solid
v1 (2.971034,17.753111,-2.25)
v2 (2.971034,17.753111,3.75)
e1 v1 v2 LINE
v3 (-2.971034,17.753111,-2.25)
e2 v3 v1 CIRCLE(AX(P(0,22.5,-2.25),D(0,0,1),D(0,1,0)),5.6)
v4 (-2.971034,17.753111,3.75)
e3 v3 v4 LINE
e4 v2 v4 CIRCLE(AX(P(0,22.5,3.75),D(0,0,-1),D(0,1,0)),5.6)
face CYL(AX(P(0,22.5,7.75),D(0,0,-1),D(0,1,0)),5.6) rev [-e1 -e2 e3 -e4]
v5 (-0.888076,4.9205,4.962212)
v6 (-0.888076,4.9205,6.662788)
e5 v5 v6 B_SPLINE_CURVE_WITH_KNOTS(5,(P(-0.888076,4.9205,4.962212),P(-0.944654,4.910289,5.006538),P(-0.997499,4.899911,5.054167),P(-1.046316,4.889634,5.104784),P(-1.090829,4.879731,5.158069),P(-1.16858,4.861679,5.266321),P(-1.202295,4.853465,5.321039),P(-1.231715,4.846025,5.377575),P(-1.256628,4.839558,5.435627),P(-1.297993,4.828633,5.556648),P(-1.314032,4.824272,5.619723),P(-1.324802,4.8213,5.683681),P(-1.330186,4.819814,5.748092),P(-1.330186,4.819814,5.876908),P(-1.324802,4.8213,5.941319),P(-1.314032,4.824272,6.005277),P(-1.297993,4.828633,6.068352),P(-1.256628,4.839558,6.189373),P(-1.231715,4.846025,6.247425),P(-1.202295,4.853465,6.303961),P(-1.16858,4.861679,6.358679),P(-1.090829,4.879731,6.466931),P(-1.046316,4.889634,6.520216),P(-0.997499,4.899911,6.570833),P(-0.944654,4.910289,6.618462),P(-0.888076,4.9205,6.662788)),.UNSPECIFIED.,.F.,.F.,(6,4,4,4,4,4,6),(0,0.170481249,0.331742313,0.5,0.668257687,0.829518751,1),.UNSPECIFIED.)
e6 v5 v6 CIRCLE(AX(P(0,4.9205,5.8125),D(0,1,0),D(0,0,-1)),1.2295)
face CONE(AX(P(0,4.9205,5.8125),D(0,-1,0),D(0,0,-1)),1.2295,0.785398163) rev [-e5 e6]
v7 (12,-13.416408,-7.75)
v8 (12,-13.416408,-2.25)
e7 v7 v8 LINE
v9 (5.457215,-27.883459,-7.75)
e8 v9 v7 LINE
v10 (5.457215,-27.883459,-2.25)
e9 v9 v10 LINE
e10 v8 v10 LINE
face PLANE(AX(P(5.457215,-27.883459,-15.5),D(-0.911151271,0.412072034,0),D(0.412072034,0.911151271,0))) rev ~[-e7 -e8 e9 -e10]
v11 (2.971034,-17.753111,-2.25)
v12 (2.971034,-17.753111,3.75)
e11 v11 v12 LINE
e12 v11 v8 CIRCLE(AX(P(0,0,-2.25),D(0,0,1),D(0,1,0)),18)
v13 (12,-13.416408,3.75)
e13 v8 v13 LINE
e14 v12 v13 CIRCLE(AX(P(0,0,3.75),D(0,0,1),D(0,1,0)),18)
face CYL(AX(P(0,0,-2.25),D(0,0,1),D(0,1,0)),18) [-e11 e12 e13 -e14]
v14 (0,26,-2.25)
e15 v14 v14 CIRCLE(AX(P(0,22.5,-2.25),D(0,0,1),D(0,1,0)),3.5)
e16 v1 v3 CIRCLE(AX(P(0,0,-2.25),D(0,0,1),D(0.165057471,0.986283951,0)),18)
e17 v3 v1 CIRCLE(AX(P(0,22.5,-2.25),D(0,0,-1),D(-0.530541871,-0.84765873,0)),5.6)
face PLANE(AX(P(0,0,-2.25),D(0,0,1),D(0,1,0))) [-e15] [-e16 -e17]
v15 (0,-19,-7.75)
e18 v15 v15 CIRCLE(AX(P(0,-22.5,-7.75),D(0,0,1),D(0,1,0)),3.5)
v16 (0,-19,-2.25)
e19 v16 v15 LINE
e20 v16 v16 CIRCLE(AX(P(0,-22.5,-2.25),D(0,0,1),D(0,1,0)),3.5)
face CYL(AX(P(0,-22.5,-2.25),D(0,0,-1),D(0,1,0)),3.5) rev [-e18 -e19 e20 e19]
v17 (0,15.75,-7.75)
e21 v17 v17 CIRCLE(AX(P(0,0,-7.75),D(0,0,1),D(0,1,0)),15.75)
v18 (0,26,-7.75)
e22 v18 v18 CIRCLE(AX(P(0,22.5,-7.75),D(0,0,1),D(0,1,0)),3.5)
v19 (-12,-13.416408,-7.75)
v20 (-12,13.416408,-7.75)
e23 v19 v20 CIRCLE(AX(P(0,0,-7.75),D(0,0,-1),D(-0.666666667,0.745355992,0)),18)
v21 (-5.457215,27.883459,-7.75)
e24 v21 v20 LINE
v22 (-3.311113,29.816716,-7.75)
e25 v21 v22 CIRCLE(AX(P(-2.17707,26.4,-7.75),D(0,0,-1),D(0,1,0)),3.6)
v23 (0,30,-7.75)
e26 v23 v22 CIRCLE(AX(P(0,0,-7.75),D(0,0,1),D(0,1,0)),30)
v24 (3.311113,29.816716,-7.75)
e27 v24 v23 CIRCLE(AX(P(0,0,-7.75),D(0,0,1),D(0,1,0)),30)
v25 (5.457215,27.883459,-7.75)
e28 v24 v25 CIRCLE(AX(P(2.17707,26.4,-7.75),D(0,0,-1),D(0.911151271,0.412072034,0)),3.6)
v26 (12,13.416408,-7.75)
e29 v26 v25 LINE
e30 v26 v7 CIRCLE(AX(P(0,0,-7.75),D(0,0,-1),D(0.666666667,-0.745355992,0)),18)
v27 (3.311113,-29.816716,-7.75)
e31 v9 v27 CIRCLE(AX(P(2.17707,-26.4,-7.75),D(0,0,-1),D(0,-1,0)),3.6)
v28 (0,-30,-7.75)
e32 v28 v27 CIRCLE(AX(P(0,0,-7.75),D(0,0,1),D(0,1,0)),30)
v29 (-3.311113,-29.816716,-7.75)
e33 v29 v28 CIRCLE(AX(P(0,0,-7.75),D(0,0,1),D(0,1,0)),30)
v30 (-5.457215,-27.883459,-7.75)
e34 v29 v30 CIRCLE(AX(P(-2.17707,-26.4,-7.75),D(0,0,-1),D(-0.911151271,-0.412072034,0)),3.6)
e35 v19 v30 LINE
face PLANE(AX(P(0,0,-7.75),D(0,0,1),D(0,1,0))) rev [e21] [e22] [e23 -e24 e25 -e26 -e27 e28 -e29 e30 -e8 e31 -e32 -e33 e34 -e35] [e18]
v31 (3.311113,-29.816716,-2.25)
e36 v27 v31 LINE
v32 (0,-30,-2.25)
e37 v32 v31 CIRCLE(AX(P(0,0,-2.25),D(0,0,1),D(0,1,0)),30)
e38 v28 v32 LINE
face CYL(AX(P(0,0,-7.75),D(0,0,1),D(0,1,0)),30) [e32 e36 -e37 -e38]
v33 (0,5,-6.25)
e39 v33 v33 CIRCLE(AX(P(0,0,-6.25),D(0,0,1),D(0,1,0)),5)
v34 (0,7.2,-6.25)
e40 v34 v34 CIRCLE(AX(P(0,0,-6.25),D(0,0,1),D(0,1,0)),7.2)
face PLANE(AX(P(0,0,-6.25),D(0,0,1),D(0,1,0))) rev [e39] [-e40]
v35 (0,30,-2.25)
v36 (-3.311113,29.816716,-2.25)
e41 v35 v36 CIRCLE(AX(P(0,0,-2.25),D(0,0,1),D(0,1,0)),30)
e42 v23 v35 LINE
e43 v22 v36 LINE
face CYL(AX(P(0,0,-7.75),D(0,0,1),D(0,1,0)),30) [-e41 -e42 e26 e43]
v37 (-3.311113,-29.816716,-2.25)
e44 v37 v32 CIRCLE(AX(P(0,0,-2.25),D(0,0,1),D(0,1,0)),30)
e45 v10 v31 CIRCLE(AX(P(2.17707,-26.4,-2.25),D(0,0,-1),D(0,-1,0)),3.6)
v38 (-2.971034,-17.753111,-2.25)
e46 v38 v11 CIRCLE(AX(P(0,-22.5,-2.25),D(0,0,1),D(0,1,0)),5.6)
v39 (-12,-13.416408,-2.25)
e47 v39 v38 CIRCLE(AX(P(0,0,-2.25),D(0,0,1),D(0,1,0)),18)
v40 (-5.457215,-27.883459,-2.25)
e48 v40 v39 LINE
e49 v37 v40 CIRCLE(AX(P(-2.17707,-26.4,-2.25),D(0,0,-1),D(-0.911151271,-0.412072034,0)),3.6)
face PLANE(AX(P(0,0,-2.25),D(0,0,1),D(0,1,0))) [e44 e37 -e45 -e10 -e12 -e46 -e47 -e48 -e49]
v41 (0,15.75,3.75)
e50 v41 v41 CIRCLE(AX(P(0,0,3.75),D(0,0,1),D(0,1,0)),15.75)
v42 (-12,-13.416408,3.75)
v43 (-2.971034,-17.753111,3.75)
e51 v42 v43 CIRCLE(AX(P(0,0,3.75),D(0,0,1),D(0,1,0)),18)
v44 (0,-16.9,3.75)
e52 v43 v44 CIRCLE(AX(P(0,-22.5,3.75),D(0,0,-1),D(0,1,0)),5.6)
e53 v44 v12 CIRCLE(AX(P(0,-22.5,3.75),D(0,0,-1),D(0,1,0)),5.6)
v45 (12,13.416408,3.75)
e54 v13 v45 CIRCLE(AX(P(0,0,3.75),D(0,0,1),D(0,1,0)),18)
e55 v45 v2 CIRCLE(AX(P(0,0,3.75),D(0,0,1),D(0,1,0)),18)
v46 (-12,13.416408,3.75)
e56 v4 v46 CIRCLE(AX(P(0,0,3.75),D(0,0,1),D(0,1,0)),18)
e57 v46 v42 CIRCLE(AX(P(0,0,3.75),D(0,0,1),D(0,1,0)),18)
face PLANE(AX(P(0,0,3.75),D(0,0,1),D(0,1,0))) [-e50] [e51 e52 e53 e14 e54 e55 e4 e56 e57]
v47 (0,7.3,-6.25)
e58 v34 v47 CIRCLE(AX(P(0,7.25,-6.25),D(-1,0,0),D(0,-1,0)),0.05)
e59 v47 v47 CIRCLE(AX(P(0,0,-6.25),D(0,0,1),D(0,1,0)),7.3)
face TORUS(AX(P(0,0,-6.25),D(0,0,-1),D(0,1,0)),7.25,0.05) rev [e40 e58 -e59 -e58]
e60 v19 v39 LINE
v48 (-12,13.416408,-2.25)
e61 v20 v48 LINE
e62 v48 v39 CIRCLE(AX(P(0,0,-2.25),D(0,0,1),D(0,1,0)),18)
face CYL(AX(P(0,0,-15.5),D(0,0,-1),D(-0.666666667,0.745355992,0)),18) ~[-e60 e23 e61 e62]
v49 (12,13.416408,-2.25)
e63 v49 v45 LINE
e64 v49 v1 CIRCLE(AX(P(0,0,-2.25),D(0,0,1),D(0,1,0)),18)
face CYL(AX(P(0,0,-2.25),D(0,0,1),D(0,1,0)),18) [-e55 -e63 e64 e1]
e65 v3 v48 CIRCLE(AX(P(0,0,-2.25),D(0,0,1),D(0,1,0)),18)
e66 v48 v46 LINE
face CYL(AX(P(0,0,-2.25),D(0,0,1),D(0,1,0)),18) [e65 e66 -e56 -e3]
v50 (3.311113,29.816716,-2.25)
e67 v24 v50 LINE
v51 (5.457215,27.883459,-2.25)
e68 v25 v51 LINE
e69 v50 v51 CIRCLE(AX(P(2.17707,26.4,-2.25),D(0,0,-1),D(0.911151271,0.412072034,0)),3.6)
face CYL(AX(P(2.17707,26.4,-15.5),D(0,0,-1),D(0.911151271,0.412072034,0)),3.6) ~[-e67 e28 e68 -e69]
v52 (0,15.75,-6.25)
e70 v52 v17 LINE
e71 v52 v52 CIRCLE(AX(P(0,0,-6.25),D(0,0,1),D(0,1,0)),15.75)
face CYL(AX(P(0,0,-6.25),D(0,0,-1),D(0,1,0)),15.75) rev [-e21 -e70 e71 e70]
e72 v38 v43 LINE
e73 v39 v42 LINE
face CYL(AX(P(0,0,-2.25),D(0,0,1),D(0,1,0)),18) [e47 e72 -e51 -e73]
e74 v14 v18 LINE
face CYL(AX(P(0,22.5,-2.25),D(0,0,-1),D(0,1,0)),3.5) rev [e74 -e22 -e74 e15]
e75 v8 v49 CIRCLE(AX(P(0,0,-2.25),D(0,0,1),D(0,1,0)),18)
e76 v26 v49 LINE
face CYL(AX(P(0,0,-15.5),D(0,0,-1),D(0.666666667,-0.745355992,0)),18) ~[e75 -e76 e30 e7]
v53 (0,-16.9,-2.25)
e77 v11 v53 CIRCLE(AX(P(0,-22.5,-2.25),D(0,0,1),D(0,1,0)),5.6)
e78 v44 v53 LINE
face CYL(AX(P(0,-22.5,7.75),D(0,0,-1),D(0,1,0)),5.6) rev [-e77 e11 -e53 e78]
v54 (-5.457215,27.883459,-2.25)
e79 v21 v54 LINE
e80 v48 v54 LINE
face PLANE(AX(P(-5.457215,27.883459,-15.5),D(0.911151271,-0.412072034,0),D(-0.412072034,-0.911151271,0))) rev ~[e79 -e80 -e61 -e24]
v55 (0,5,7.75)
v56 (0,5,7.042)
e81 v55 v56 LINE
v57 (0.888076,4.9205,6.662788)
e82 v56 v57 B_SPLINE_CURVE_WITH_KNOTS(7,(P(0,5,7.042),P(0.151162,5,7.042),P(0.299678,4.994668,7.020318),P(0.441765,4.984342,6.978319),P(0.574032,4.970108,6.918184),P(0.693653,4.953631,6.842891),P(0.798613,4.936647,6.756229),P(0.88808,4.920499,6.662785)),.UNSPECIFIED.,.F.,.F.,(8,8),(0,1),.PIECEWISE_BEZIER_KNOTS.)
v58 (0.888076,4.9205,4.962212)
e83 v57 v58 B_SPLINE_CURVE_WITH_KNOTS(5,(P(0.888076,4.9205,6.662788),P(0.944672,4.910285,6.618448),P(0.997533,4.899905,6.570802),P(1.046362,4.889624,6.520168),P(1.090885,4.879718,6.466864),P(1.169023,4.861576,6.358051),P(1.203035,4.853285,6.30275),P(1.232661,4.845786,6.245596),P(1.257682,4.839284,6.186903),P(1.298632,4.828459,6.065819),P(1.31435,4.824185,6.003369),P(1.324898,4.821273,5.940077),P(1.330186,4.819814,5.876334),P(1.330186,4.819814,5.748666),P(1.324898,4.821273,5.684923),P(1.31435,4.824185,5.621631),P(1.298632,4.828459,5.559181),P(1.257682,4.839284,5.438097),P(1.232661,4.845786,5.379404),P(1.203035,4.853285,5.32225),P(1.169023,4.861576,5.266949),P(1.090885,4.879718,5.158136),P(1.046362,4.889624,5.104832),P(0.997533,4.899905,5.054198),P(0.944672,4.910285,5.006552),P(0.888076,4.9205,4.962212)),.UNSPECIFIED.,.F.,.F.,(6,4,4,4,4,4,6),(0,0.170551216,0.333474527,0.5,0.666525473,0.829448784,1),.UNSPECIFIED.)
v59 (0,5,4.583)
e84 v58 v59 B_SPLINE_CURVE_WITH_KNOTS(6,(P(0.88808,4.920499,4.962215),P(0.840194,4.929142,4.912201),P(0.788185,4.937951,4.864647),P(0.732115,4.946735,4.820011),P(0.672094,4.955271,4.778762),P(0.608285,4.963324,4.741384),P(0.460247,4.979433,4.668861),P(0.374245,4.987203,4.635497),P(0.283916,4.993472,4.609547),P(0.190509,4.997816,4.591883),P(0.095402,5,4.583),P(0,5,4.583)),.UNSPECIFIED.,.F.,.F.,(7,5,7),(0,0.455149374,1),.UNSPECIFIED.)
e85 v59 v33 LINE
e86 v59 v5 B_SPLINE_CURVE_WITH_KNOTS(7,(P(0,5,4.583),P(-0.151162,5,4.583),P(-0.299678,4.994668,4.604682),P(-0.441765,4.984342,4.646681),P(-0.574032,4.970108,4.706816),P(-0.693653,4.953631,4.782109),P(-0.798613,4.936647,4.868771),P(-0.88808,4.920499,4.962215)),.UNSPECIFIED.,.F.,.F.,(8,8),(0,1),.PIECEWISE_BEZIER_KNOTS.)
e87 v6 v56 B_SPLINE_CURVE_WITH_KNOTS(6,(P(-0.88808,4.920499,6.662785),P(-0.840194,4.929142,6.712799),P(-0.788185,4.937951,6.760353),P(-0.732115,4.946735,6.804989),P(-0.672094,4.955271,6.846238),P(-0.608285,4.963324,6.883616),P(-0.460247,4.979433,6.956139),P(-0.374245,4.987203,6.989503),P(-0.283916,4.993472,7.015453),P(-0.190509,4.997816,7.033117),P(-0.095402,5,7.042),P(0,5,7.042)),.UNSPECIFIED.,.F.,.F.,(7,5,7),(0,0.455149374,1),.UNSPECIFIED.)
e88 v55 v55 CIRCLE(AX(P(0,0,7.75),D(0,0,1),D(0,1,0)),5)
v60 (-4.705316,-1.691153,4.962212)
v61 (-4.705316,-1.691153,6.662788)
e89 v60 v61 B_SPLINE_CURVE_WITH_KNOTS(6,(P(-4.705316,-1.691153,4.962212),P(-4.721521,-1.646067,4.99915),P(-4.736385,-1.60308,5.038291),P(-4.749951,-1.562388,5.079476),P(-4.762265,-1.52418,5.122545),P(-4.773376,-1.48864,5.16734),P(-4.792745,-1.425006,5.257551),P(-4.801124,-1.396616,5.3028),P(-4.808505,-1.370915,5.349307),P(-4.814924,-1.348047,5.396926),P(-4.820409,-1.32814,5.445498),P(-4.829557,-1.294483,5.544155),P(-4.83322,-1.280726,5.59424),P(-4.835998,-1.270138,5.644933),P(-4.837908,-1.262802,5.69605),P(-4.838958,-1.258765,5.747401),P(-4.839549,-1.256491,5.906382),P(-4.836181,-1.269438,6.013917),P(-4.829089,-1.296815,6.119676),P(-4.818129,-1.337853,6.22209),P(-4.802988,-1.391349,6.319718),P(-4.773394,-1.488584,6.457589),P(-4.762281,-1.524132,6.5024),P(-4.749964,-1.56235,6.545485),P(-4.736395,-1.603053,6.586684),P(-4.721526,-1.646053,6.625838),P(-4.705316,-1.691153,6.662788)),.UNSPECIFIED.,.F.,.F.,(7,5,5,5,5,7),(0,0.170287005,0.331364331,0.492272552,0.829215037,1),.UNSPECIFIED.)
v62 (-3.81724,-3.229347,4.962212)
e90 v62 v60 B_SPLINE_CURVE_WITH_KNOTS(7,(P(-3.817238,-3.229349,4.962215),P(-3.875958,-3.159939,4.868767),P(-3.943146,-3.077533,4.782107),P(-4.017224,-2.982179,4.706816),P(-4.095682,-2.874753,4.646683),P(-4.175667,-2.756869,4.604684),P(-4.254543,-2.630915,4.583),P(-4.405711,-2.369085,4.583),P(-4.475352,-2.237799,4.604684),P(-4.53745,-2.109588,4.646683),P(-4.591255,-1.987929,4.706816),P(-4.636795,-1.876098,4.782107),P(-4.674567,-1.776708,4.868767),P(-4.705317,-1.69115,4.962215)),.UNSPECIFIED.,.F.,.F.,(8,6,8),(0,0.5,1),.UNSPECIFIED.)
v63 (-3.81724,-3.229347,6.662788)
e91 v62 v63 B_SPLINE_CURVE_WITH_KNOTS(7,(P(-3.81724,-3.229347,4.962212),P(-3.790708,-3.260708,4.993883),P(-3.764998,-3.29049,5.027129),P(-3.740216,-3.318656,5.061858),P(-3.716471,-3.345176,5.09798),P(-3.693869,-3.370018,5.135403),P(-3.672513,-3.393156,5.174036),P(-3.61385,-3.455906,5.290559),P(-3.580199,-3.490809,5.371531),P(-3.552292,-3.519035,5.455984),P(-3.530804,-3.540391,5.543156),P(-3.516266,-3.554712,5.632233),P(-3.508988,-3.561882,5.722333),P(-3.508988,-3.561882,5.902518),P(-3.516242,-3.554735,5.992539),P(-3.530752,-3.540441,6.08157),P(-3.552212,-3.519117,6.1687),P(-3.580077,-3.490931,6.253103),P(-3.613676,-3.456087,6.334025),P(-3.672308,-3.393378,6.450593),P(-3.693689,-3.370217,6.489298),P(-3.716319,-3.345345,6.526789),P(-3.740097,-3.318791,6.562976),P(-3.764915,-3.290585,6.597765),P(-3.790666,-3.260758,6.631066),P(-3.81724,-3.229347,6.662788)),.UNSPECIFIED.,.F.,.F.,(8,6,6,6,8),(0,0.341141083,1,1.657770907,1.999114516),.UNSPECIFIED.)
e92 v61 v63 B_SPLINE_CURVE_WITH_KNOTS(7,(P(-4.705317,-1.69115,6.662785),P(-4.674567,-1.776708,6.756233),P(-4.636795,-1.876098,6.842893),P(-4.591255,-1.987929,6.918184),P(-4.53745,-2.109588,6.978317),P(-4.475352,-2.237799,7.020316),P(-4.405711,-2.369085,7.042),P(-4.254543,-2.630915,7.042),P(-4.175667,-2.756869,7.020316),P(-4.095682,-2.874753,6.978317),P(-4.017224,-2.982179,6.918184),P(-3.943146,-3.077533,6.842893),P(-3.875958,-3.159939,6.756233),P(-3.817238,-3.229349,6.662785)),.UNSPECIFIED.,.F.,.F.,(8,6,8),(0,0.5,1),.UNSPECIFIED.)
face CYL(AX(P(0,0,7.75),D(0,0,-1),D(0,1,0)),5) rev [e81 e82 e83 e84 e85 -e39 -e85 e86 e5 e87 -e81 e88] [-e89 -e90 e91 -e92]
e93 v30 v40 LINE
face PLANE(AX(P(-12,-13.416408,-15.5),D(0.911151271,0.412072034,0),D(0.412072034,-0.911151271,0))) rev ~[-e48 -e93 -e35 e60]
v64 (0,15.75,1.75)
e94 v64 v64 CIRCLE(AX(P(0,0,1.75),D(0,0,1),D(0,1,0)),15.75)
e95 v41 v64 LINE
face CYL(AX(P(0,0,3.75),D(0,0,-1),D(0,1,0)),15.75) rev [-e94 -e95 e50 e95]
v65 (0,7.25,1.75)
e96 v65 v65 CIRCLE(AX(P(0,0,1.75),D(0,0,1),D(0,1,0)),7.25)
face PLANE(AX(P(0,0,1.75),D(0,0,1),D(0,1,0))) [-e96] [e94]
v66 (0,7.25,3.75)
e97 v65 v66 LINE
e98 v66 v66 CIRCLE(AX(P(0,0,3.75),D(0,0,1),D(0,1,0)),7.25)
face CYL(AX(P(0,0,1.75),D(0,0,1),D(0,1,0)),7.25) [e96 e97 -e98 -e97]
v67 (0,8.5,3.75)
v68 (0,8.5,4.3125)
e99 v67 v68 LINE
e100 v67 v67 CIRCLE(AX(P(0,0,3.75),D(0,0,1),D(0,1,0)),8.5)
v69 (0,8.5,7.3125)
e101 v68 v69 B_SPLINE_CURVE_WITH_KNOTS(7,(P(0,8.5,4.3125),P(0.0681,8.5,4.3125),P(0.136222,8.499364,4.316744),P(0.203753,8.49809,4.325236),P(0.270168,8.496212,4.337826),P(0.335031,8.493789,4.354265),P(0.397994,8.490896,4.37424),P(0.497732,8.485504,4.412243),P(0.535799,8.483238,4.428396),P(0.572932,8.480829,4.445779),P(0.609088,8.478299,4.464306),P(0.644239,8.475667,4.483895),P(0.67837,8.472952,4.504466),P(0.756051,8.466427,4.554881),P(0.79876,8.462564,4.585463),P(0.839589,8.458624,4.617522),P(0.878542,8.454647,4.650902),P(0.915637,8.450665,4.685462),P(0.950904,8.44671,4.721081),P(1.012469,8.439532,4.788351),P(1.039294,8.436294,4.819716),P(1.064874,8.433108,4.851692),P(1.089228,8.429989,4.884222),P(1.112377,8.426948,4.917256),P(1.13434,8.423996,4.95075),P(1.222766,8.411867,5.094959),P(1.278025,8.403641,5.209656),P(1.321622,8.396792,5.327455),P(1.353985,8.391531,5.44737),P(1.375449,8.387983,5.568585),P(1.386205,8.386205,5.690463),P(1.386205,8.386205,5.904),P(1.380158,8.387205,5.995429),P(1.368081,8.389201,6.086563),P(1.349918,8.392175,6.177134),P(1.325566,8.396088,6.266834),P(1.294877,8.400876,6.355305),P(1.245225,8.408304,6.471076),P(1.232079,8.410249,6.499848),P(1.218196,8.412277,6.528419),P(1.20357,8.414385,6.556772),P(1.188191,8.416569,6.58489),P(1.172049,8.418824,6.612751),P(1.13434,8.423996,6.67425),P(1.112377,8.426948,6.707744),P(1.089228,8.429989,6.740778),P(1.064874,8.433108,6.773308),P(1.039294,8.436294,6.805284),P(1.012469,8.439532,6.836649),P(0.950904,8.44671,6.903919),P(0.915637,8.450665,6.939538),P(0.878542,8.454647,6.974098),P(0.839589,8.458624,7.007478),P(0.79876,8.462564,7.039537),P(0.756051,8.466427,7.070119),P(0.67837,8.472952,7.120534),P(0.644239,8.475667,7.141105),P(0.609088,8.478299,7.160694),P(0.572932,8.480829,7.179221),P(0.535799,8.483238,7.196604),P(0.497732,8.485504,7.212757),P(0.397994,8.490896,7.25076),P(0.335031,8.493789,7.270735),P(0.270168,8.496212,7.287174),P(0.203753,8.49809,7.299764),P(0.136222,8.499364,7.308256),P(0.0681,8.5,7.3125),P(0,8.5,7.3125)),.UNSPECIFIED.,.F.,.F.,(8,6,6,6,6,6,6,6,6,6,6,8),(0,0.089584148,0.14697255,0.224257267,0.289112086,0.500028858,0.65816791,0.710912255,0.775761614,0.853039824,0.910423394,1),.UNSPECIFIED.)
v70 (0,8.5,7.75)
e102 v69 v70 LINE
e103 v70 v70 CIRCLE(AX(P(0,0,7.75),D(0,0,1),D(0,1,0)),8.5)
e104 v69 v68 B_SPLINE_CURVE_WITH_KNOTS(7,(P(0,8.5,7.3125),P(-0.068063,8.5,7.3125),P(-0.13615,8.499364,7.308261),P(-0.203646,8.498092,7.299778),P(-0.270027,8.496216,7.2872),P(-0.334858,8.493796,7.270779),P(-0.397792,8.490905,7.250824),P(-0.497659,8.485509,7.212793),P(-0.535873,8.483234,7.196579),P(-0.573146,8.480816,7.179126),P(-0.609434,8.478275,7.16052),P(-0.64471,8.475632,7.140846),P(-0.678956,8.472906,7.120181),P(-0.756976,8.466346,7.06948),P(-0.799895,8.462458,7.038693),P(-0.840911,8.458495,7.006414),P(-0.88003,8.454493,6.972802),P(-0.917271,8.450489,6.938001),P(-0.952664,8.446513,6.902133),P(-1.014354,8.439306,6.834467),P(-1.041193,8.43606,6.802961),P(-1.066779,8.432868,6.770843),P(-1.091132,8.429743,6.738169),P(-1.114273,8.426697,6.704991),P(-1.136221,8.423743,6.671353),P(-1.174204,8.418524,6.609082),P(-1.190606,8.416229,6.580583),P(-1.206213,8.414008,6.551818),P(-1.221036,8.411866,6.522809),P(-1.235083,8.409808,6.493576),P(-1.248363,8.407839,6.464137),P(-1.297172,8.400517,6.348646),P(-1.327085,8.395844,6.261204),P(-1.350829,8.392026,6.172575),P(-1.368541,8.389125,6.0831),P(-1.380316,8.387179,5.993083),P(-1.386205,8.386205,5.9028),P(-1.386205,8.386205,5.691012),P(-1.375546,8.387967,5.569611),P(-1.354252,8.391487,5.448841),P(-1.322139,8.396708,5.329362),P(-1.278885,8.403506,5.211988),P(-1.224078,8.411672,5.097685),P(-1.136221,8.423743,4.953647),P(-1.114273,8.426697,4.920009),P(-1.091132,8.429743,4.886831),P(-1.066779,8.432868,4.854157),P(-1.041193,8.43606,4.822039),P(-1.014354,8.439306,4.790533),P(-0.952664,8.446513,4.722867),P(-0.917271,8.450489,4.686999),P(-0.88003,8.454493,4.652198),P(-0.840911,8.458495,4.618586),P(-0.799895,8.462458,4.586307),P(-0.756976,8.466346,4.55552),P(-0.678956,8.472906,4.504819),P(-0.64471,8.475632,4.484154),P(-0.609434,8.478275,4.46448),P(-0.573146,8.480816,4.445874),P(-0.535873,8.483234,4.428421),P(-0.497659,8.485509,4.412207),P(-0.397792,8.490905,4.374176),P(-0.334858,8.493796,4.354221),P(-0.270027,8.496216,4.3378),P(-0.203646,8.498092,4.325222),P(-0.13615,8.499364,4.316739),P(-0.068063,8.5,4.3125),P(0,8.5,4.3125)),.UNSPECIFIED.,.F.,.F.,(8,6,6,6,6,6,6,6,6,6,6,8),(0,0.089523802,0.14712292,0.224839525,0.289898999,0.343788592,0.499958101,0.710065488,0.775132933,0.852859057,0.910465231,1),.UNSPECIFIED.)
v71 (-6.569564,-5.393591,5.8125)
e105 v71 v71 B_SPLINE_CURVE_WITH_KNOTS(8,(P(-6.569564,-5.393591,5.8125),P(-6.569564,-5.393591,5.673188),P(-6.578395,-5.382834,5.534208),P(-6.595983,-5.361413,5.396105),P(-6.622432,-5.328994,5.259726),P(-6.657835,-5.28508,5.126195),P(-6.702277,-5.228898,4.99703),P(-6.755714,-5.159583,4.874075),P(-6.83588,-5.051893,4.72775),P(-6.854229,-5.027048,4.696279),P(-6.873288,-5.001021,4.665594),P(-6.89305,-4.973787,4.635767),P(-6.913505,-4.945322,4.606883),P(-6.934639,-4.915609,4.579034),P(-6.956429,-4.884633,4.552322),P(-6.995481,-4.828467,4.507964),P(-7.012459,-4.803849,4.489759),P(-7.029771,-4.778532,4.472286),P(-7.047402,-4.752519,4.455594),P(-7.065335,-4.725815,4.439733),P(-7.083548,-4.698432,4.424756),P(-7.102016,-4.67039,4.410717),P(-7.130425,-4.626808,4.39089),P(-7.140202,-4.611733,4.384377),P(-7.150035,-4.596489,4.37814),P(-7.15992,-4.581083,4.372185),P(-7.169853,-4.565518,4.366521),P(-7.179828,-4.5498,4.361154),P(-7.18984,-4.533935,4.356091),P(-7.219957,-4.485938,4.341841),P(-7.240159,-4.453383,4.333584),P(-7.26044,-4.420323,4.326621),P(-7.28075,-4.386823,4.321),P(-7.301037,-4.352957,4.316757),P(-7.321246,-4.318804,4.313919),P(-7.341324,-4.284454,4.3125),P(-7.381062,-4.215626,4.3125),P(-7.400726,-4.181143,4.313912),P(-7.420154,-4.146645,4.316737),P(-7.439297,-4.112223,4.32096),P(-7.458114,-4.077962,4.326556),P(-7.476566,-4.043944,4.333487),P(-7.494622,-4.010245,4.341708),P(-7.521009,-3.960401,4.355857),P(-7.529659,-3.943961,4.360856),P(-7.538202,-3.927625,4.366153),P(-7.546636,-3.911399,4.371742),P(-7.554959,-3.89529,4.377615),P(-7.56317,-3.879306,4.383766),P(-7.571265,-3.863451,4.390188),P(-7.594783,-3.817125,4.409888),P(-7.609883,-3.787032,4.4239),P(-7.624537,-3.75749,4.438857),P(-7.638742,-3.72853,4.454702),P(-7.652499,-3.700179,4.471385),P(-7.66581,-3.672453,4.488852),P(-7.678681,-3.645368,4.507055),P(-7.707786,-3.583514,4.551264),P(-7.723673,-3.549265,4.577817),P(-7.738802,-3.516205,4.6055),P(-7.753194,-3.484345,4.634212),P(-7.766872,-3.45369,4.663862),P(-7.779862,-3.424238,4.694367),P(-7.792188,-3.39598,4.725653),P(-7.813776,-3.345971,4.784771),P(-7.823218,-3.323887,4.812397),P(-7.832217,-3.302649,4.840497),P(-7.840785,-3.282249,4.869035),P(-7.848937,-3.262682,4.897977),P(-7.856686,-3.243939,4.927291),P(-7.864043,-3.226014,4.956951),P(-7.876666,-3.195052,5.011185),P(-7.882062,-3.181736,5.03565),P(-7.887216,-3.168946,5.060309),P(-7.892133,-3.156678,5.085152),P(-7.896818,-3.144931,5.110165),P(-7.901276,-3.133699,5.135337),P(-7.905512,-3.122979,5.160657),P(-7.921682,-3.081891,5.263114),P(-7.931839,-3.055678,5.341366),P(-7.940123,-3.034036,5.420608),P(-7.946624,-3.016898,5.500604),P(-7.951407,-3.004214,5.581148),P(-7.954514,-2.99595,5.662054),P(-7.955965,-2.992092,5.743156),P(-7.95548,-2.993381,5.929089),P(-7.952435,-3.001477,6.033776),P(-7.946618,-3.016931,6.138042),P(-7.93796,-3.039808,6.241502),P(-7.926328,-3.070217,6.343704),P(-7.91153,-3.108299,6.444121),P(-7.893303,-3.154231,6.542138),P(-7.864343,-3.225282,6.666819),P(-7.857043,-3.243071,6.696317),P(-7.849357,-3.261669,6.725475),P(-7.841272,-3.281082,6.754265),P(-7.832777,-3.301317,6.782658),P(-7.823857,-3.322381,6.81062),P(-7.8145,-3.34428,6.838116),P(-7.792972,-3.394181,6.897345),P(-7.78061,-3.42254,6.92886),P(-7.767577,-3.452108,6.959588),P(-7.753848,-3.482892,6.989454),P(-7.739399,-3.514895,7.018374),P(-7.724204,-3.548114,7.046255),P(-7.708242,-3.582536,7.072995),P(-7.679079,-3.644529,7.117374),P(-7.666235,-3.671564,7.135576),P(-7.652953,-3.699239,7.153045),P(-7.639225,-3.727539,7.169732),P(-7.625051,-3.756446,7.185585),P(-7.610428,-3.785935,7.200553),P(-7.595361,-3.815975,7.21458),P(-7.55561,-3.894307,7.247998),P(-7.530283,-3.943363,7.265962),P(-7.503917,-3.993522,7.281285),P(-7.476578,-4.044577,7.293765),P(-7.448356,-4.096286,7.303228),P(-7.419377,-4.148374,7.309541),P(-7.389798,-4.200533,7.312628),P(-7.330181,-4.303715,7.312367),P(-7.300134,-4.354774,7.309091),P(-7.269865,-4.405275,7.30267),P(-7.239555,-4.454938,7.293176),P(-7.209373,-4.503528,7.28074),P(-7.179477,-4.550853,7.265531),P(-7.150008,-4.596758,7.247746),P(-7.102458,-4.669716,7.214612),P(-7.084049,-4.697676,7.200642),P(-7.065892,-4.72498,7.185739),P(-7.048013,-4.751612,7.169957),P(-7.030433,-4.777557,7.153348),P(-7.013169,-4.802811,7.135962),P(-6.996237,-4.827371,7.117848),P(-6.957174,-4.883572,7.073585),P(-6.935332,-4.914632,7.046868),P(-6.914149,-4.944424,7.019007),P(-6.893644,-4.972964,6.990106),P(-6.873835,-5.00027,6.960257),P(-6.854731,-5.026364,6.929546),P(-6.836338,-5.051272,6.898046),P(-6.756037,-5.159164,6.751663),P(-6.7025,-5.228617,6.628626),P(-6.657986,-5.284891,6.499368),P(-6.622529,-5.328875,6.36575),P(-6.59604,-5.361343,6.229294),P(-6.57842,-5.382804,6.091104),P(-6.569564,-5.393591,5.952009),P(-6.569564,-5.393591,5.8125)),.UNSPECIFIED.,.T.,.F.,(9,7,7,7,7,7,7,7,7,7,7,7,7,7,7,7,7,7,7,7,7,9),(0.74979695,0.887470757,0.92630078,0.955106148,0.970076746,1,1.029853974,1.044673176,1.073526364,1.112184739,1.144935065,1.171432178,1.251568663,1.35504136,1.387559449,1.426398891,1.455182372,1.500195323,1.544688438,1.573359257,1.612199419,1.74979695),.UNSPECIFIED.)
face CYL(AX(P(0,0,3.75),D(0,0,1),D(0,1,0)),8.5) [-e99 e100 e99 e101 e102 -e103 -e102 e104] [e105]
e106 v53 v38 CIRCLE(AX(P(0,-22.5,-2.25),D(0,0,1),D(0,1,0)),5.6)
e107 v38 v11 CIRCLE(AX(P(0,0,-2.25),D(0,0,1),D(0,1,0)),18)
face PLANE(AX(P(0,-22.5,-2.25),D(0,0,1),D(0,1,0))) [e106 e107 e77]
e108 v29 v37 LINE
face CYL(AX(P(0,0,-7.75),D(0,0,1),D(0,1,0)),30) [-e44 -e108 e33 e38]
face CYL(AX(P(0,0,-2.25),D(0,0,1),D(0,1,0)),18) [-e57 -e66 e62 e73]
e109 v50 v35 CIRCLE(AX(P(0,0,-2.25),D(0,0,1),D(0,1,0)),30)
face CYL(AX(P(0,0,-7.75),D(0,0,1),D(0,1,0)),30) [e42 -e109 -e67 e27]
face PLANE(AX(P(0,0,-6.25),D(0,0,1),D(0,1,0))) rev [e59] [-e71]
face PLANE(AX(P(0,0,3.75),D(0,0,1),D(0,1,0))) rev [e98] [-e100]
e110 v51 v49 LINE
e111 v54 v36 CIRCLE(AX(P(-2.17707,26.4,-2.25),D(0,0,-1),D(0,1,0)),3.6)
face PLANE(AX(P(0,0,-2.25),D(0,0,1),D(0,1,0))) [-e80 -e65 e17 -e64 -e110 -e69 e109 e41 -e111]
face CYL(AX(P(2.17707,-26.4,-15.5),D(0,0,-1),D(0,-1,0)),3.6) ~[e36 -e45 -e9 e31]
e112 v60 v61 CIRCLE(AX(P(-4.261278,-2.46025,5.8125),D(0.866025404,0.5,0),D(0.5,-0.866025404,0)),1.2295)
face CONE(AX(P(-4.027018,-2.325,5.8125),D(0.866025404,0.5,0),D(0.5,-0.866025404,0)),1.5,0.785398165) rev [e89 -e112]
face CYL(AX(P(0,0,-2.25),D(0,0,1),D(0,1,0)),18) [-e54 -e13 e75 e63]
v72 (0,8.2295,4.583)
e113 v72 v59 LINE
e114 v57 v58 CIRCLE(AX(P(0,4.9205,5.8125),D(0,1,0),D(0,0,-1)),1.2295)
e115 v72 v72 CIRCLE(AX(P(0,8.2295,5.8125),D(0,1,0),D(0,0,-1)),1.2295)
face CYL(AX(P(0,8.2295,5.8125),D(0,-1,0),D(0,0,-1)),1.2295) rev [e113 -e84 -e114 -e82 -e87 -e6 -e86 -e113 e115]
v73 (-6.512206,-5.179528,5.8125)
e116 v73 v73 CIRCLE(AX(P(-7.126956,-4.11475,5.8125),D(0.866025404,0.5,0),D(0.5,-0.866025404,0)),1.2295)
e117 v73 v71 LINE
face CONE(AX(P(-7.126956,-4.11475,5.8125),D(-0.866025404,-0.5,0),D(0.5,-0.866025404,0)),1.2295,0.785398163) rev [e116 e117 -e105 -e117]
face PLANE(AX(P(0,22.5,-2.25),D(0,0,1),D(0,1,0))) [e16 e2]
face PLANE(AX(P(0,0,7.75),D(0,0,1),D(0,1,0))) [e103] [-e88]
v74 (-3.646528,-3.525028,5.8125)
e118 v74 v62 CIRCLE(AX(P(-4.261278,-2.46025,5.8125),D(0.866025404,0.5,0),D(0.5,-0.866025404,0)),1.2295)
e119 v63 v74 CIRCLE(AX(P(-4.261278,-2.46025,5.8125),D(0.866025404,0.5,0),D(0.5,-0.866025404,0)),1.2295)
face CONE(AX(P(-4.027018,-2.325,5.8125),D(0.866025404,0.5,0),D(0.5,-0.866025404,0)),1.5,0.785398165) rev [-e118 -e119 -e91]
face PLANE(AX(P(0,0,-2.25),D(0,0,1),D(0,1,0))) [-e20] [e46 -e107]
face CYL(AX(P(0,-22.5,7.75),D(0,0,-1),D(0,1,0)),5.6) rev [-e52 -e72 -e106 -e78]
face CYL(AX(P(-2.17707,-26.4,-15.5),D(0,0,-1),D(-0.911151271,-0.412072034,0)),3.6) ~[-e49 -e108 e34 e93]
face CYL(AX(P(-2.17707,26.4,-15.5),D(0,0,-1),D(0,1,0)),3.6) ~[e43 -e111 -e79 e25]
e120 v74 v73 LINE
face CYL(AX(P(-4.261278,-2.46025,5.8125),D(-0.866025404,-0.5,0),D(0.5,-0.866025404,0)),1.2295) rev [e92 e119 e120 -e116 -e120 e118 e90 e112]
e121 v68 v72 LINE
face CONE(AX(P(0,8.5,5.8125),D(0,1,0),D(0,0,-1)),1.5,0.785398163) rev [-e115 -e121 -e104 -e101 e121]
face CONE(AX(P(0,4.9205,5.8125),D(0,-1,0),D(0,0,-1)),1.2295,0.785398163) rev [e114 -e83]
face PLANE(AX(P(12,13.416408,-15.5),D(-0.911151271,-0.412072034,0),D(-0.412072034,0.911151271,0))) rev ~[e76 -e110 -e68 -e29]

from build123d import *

# Parameters (mm, degrees)
CUT_EXTRUDE_1_DEPTH      = 15.5
CUT_EXTRUDE_1_DEPTH_BACK = 15.5
SKETCH_2_W               = 144
SKETCH_2_H               = 240


with BuildPart() as part:
    # 草图1 → 旋转1 (revolve)
    with BuildSketch(Plane(origin=(0, 0, 0), x_dir=(0, 0, -1), z_dir=(1, 0, 0))):
        with BuildLine():
            Line((-7.75, 8.5), (-7.75, 5))
            Line((-7.75, 5), (6.25, 5))
            Line((6.25, 5), (6.25, 7.2))
            ThreePointArc((6.25, 7.2), (6.2, 7.25), (6.25, 7.3))
            Line((6.25, 7.3), (6.25, 15.75))
            Line((6.25, 15.75), (7.75, 15.75))
            Line((7.75, 15.75), (7.75, 30))
            Line((7.75, 30), (2.25, 30))
            Line((2.25, 30), (2.25, 18))
            Line((2.25, 18), (-3.75, 18))
            Line((-3.75, 18), (-3.75, 15.75))
            Line((-3.75, 15.75), (-1.75, 15.75))
            Line((-1.75, 15.75), (-1.75, 7.25))
            Line((-1.75, 7.25), (-3.75, 7.25))
            Line((-3.75, 7.25), (-3.75, 8.5))
            Line((-3.75, 8.5), (-7.75, 8.5))
        make_face()
    revolve(axis=Axis((0, 0, -7.75), (0, 0, 1)))

    # 草图2 → 切除-拉伸1 (cut, two sides: drawn at the far end of the back side and taken through both)
    with BuildSketch(Plane.XY.offset(-CUT_EXTRUDE_1_DEPTH_BACK)):
        Rectangle(SKETCH_2_W, SKETCH_2_H)
        with BuildLine():
            Line((-12, -13.416407865), (-5.457214514, -27.883459321))
            ThreePointArc((-5.457214514, -27.883459321), (-4.128933976, -29.424934177), (-2.177069938, -30))
            Line((-2.177069938, -30), (2.177069938, -30))
            ThreePointArc((2.177069938, -30), (4.128933976, -29.424934177), (5.457214514, -27.883459321))
            Line((5.457214514, -27.883459321), (12, -13.416407865))
            ThreePointArc((12, -13.416407865), (18, 0), (12, 13.416407865))
            Line((12, 13.416407865), (5.457214514, 27.883459321))
            ThreePointArc((5.457214514, 27.883459321), (4.128933976, 29.424934177), (2.177069938, 30))
            Line((2.177069938, 30), (-2.177069938, 30))
            ThreePointArc((-2.177069938, 30), (-4.128933976, 29.424934177), (-5.457214514, 27.883459321))
            Line((-5.457214514, 27.883459321), (-12, 13.416407865))
            ThreePointArc((-12, 13.416407865), (-18, 0), (-12, -13.416407865))
        make_face(mode=Mode.SUBTRACT)
    extrude(amount=CUT_EXTRUDE_1_DEPTH + CUT_EXTRUDE_1_DEPTH_BACK, mode=Mode.SUBTRACT)

    # 草图3 → 切除-旋转1 (revolve, cut)
    with BuildSketch(Plane(origin=(0, 0, 0), x_dir=(0, 0, -1), z_dir=(1, 0, 0))):
        Polygon((-7.75, 22.5), (-7.75, 28.1), (2.25, 28.1), (2.25, 26), (7.75, 26), (7.75, 22.5), align=None)
    revolve(axis=Axis((0, 22.5, -7.75), (0, 0, 1)), mode=Mode.SUBTRACT)

    # 草图4 → 切除-旋转2 (revolve, cut)
    with BuildSketch(Plane(origin=(0, 0, 0), x_dir=(0, 0, -1), z_dir=(1, 0, 0))):
        Polygon((-7.75, -22.5), (-7.75, -16.9), (2.25, -16.9), (2.25, -19), (7.75, -19), (7.75, -22.5), align=None)
    revolve(axis=Axis((0, -22.5, -7.75), (0, 0, 1)), mode=Mode.SUBTRACT)

    # 草图5 → 切除-旋转3 (revolve, cut)
    with BuildSketch(Plane(origin=(0, 0, 0), x_dir=(0, 0, -1), z_dir=(1, 0, 0))):
        Polygon((-5.8125, 8.5), (-4.3125, 8.5), (-4.583, 8.2295), (-4.583, 4.9205), (-4.3125, 4.65), (-5.8125, 4.65), align=None)
    revolve(axis=Axis((0, 4.65, 5.8125), (0, 1, 0)), mode=Mode.SUBTRACT)

    # 草图6 → 切除-旋转4 (revolve, cut)
    with BuildSketch(Plane.XY.offset(5.8125)):
        Polygon((-4.027018128, -2.325), (-3.277018128, -3.624038106), (-3.646527999, -3.525028234), (-6.51220606, -5.179528234), (-6.611215932, -5.549038106), (-7.361215932, -4.25), align=None)
    revolve(axis=Axis((-7.361215932, -4.25, 5.8125), (0.8660254037844392, 0.4999999999999992, 0)), mode=Mode.SUBTRACT)


solid = part.part
